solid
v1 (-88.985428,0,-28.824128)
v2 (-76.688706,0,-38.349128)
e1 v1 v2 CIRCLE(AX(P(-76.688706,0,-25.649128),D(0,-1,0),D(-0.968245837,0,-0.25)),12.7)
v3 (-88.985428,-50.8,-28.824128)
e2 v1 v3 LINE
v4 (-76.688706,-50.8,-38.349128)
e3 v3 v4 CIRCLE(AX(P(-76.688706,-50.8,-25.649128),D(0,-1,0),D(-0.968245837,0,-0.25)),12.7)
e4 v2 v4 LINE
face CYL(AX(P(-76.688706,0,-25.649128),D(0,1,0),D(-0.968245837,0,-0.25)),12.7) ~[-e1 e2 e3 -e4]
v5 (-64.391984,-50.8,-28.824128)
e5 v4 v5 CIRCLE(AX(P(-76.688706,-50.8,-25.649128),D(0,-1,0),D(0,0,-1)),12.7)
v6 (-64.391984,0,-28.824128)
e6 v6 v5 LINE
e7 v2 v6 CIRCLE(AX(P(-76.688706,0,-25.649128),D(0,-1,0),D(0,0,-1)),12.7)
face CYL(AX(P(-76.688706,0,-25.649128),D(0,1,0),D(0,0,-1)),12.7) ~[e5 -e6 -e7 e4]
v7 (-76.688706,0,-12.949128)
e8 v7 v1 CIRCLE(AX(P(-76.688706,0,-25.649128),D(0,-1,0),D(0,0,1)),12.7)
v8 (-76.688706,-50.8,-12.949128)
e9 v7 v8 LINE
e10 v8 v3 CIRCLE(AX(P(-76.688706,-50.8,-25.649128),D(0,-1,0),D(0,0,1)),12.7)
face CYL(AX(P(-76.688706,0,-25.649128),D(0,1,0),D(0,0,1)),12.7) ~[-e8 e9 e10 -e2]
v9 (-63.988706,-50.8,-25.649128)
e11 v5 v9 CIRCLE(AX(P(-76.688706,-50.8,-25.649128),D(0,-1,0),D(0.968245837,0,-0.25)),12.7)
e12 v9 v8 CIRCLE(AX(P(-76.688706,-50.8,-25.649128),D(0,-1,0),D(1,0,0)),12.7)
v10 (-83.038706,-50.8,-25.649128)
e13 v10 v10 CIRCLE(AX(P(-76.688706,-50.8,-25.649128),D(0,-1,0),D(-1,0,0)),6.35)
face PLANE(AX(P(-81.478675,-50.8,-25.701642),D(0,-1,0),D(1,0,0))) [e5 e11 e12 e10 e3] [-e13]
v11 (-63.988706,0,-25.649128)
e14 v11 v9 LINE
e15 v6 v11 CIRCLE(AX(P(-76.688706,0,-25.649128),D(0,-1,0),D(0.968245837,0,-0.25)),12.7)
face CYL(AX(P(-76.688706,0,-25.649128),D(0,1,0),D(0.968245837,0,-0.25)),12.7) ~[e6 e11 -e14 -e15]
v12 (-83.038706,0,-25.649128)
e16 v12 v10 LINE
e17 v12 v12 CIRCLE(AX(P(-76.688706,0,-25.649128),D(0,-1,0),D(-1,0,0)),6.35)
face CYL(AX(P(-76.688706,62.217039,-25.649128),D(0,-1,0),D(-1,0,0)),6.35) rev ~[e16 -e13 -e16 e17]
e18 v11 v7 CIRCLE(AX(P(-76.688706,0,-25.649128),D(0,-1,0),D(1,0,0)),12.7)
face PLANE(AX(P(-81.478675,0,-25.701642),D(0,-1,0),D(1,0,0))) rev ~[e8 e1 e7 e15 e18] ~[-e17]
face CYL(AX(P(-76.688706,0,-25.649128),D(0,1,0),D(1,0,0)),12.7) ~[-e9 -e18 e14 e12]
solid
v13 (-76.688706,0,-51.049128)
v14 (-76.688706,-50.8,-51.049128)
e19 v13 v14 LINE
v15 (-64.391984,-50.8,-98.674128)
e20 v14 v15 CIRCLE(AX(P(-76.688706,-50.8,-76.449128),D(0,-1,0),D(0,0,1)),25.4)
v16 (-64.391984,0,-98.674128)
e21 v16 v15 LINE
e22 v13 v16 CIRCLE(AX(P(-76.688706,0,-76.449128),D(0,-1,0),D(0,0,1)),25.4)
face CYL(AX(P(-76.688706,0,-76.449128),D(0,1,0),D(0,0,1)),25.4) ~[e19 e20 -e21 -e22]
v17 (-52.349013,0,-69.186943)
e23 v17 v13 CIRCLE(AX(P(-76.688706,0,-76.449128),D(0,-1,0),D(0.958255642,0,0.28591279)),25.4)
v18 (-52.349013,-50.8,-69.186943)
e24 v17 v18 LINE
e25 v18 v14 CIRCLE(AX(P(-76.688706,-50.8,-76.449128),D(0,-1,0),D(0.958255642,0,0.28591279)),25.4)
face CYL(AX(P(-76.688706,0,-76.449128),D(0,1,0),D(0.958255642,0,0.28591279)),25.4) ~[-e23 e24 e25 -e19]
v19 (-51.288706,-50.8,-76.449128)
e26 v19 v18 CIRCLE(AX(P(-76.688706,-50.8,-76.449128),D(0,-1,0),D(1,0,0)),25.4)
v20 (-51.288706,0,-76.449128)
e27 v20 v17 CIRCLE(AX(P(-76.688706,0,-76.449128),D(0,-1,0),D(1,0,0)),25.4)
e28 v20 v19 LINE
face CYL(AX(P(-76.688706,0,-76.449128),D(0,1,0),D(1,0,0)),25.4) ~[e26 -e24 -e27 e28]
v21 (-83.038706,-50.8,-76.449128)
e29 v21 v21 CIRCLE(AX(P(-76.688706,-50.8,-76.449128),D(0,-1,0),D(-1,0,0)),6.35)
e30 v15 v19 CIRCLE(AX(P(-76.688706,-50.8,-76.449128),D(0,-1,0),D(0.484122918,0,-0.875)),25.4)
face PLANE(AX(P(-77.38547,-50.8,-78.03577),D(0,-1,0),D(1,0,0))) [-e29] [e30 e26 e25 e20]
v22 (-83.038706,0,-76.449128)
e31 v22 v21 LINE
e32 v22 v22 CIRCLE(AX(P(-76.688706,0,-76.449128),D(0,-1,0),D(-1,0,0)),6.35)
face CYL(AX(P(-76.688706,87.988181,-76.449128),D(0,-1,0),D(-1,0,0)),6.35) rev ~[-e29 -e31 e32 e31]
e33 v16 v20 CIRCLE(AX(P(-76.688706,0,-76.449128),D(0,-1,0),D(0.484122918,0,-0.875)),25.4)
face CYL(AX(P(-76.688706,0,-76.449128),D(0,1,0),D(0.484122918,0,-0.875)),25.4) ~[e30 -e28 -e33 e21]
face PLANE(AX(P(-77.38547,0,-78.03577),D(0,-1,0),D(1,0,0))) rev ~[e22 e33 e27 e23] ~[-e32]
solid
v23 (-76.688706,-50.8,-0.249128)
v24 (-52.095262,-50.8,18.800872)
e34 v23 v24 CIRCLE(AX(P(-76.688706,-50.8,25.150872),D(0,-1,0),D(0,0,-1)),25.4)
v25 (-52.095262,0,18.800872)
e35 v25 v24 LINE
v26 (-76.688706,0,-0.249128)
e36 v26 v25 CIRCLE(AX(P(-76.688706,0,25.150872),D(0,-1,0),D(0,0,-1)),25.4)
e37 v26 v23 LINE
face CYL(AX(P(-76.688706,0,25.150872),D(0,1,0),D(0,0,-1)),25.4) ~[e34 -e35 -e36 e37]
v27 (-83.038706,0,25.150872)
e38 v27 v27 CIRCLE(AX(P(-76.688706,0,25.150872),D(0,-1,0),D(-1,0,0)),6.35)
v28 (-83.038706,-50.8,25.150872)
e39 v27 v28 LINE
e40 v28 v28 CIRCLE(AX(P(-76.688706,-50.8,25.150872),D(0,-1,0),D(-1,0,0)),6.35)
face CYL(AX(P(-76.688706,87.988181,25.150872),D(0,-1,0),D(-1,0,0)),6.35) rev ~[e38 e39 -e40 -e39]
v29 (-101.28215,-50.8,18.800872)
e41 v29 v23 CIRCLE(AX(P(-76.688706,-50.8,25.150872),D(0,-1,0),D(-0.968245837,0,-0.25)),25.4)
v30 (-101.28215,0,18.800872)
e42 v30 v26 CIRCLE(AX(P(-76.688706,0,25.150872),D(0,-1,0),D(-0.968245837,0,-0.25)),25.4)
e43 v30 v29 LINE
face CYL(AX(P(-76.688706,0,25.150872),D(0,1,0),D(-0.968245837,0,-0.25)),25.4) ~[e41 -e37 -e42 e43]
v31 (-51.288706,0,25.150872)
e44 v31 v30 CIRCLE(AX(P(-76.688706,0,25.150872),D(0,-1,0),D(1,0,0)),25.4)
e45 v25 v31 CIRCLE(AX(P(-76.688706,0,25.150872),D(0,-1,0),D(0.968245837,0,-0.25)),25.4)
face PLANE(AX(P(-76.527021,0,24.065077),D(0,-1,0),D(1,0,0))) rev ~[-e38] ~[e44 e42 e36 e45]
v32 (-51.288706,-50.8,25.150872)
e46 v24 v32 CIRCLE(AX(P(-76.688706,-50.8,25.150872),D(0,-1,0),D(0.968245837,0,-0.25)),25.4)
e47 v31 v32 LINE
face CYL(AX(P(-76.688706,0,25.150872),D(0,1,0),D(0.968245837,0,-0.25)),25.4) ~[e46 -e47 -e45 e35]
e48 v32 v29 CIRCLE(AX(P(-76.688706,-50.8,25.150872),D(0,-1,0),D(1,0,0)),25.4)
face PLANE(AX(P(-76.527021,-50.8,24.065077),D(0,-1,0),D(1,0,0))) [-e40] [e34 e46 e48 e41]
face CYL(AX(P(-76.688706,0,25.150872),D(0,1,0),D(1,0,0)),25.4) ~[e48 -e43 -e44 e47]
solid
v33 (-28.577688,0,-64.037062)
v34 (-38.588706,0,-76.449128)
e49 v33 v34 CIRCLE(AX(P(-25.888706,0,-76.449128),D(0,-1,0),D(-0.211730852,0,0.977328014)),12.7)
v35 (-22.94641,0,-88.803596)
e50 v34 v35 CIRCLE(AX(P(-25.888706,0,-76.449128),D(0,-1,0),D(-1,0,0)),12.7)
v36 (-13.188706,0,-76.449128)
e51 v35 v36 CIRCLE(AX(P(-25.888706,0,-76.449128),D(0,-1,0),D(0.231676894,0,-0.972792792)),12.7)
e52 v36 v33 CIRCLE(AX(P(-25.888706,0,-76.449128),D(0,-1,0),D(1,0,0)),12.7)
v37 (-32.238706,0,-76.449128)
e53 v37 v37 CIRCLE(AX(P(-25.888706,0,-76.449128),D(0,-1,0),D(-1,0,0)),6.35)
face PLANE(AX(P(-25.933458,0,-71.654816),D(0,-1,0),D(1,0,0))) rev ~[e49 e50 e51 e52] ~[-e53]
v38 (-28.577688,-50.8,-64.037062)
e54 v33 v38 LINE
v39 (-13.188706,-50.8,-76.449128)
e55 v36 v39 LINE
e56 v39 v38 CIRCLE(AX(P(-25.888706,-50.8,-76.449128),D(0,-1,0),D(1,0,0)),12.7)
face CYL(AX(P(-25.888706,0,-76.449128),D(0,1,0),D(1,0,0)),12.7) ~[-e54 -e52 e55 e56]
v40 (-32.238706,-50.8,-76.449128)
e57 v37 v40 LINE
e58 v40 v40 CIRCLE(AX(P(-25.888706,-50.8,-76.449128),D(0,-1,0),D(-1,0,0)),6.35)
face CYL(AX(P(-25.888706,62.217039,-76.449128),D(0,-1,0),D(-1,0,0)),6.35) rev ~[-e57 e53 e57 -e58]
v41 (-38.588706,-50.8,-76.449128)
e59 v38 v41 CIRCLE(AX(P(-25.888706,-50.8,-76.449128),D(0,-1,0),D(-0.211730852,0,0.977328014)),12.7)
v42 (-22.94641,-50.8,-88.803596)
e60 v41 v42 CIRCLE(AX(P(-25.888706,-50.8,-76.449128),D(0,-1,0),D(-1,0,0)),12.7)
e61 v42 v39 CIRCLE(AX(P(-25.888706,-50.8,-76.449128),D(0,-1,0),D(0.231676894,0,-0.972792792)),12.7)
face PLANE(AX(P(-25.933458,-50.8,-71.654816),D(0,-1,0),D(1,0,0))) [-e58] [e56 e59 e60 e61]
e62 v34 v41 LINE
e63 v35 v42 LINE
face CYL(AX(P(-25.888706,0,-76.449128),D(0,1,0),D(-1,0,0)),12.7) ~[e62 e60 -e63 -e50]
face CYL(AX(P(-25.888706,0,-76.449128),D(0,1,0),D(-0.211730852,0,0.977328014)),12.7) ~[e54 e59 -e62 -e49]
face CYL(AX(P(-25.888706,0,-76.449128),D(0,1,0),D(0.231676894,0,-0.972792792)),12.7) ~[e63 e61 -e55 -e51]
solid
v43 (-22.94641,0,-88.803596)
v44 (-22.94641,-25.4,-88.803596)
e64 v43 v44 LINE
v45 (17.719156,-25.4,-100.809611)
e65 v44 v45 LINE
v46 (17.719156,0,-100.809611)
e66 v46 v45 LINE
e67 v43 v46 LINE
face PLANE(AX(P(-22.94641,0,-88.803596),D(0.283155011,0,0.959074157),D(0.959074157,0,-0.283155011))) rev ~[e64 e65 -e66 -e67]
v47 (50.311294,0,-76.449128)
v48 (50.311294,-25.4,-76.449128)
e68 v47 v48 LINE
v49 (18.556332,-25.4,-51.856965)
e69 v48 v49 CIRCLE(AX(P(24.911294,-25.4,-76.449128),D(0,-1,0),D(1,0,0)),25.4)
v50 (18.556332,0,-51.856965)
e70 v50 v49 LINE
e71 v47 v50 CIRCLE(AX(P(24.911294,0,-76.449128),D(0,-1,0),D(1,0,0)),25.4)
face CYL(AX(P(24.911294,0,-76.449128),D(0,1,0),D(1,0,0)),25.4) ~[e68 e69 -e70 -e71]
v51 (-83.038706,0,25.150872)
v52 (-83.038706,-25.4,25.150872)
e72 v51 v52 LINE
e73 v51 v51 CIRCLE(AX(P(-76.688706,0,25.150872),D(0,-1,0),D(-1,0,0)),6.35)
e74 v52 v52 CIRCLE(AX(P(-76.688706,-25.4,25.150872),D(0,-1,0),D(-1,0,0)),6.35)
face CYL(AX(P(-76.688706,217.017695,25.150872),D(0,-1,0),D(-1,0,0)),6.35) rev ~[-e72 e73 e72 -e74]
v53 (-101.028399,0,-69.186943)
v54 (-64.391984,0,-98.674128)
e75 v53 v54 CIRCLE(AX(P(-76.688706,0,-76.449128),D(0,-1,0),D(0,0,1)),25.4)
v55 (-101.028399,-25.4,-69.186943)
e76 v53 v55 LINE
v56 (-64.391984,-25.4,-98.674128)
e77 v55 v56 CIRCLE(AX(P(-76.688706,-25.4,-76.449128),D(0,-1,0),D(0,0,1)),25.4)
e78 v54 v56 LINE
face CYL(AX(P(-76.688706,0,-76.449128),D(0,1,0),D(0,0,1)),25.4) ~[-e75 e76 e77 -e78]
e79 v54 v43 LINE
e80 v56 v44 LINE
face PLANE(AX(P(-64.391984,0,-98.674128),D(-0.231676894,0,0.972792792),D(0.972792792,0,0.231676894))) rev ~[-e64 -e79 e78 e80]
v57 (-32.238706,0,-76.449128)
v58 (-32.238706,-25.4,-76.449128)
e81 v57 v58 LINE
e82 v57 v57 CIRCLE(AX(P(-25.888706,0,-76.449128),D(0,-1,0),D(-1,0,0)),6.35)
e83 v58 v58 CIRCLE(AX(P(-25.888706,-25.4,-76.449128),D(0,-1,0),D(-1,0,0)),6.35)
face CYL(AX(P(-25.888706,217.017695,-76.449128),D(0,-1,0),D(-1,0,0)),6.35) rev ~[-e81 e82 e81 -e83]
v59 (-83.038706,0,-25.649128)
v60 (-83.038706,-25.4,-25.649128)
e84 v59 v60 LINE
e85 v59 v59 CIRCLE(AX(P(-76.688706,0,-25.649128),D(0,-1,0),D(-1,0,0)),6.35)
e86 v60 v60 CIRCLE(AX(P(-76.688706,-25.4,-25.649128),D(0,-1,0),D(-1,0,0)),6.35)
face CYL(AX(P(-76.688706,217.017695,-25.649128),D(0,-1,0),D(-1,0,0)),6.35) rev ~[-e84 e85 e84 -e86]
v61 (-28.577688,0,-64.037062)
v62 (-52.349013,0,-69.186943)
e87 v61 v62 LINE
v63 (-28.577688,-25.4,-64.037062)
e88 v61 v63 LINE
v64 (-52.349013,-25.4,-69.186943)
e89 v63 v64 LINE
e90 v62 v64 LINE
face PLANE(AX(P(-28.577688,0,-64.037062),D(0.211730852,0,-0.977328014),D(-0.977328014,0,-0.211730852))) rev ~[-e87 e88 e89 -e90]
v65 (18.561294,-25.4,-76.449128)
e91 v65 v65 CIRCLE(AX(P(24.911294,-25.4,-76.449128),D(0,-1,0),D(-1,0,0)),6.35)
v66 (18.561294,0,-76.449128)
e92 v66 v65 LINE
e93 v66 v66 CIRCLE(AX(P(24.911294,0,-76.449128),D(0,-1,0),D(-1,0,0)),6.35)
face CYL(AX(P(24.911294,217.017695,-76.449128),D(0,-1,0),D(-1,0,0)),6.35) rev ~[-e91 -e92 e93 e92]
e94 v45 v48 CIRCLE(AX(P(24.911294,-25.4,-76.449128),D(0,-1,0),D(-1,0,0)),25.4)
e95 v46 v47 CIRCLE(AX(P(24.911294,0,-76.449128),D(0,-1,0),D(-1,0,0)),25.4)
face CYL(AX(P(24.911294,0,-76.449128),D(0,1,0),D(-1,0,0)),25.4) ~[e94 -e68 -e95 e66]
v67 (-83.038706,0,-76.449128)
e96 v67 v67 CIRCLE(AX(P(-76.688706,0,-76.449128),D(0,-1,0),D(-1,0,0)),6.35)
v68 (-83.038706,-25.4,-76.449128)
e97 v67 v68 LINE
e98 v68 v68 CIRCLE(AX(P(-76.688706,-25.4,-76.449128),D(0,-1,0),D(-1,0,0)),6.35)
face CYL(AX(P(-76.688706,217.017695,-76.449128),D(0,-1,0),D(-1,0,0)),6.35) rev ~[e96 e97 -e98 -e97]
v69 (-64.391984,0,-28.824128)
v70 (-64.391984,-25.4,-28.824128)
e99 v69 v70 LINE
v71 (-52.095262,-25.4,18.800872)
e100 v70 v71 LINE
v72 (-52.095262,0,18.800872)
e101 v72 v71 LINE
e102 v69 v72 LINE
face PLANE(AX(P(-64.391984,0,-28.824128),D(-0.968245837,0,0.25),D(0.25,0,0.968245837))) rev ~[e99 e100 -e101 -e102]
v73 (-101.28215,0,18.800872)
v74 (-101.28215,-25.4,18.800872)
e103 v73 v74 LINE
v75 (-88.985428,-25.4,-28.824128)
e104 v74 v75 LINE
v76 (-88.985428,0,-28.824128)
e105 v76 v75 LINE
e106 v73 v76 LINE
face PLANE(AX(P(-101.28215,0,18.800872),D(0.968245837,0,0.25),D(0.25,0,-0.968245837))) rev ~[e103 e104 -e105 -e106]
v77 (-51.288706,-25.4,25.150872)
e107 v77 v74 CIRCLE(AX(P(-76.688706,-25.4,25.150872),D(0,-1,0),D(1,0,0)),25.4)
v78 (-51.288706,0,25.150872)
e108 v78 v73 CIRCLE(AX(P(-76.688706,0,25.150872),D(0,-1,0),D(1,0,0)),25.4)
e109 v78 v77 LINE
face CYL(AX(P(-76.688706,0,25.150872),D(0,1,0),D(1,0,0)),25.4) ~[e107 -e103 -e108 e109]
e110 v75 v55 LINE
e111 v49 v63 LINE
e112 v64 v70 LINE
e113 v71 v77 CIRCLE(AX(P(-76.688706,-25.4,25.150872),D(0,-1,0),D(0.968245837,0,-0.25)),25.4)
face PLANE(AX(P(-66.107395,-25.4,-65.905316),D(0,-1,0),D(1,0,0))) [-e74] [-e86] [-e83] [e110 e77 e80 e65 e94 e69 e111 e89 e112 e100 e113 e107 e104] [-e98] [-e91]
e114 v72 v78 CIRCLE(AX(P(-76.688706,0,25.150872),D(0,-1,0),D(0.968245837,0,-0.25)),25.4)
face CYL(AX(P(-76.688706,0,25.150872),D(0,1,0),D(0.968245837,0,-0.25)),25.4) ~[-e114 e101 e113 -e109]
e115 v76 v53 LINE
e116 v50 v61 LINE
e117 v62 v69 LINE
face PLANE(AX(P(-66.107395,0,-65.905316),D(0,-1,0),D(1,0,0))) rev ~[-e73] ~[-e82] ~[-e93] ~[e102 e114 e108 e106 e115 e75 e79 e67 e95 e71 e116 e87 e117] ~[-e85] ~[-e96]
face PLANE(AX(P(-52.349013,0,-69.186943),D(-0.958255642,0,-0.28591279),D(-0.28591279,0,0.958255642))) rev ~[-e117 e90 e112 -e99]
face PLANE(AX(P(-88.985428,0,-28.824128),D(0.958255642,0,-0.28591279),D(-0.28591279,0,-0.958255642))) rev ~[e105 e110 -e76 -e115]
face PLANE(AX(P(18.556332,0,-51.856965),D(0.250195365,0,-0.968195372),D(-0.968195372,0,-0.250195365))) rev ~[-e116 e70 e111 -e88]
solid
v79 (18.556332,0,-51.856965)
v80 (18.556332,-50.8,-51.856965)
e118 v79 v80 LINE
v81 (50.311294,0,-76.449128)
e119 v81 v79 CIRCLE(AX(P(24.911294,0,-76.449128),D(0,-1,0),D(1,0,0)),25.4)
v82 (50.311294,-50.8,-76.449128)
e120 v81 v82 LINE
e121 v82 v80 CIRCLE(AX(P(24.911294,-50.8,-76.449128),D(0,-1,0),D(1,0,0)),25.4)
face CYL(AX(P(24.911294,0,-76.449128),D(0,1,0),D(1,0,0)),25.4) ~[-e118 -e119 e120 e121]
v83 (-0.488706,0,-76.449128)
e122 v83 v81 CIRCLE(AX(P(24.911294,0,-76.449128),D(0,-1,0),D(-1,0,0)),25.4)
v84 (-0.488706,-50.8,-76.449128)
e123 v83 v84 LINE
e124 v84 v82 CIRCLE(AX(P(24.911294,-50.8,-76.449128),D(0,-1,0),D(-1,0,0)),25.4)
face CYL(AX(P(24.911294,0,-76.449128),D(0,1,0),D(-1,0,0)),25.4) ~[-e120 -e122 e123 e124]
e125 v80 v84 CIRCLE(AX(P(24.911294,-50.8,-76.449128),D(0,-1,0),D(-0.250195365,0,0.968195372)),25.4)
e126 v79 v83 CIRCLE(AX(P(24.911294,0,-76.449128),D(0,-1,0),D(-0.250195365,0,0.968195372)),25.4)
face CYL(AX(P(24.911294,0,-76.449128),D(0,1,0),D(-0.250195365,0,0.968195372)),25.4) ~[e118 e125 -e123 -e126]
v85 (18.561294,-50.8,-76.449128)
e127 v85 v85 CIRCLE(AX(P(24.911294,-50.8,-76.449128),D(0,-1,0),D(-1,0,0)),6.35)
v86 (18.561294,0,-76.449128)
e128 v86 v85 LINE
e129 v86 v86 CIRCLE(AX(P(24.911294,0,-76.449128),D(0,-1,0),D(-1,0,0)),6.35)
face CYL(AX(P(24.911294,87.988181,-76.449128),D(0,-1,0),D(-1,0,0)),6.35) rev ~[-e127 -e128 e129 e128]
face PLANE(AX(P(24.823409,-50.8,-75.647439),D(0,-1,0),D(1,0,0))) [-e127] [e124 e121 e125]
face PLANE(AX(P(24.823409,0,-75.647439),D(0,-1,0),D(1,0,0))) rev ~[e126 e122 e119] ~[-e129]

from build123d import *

# Parameters (mm, degrees)
F1_DEPTH = 50.8
F2_DEPTH = 25.4
F3_D     = 12.7
F3_2_D   = 12.7
F3_3_D   = 12.7
F3_4_D   = 12.7
F3_5_D   = 12.7
F3_6_D   = 12.7


with BuildPart() as f1:
    # F0 (on Front) → F1 (new body)
    with BuildSketch(Plane.XZ):
        with BuildLine():
            ThreePointArc((-76.688706116, -0.2491279063), (-61.1344462494, 5.0704089517), (-52.0952618676, 18.8008720937))
            ThreePointArc((-52.0952618676, 18.8008720937), (-51.4911518308, 21.9503630647), (-51.288706116, 25.1508720937))
            ThreePointArc((-51.288706116, 25.1508720937), (-79.8892151451, 50.3484263789), (-101.2821503645, 18.8008720937))
            ThreePointArc((-101.2821503645, 18.8008720937), (-92.2429659827, 5.0704089517), (-76.688706116, -0.2491279063))
        make_face()
    extrude(amount=F1_DEPTH)

    # F3 (through all)
    with Locations(Plane(origin=(0, 0, 0), x_dir=(1, 0, 0), z_dir=(0, 1, 0))):
        with Locations((-76.688706116, -25.1508720937), (-76.688706116, 25.6491279063), (-76.688706116, 76.4491279063), (-25.888706116, 76.4491279063), (24.911293884, 76.4491279063)):
            Hole(F3_D / 2)


with BuildPart() as f1b:
    # F0 (on Front) → F1, piece 2 (new body)
    with BuildSketch(Plane.XZ):
        with BuildLine():
            ThreePointArc((50.311293884, -76.4491279063), (40.463527775, -56.3670956137), (18.5563316005, -51.856965448))
            ThreePointArc((18.5563316005, -51.856965448), (4.8292615914, -60.8968940153), (-0.488706116, -76.4491279063))
            ThreePointArc((-0.488706116, -76.4491279063), (4.5662661321, -91.6557003595), (17.719155756, -100.8096112584))
            ThreePointArc((17.719155756, -100.8096112584), (40.1178663372, -96.7941556582), (50.311293884, -76.4491279063))
        make_face()
    extrude(amount=F1_DEPTH)

    # F3#2 (through all)
    with Locations(Plane(origin=(0, 0, 0), x_dir=(1, 0, 0), z_dir=(0, 1, 0))):
        with Locations((-76.688706116, -25.1508720937), (-76.688706116, 25.6491279063), (-76.688706116, 76.4491279063), (-25.888706116, 76.4491279063), (24.911293884, 76.4491279063)):
            Hole(F3_2_D / 2)


with BuildPart() as f1c:
    # F0 (on Front) → F1, piece 3 (new body)
    with BuildSketch(Plane.XZ):
        with BuildLine():
            ThreePointArc((-88.9854282402, -28.8241279063), (-84.4658360494, -35.6893594773), (-76.688706116, -38.3491279063))
            Line((-76.688706116, -38.3491279063), (-76.688706116, -25.6491279063))
            Line((-76.688706116, -25.6491279063), (-76.688706116, -12.9491279063))
            ThreePointArc((-76.688706116, -12.9491279063), (-86.7289376871, -17.8719979729), (-88.9854282402, -28.8241279063))
        make_face()
        with BuildLine():
            Line((-76.688706116, -25.6491279063), (-76.688706116, -38.3491279063))
            ThreePointArc((-76.688706116, -38.3491279063), (-68.9115761827, -35.6893594773), (-64.3919839918, -28.8241279063))
            ThreePointArc((-64.3919839918, -28.8241279063), (-64.0899289734, -27.2493824208), (-63.988706116, -25.6491279063))
            ThreePointArc((-63.988706116, -25.6491279063), (-67.708449995, -16.6688717852), (-76.688706116, -12.9491279063))
            Line((-76.688706116, -12.9491279063), (-76.688706116, -25.6491279063))
        make_face()
    extrude(amount=F1_DEPTH)

    # F3#3 (through all)
    with Locations(Plane(origin=(0, 0, 0), x_dir=(1, 0, 0), z_dir=(0, 1, 0))):
        with Locations((-76.688706116, -25.1508720937), (-76.688706116, 25.6491279063), (-76.688706116, 76.4491279063), (-25.888706116, 76.4491279063), (24.911293884, 76.4491279063)):
            Hole(F3_3_D / 2)


with BuildPart() as f1d:
    # F0 (on Front) → F1, piece 4 (new body)
    with BuildSketch(Plane.XZ):
        with BuildLine():
            Line((-51.288706116, -76.4491279063), (-76.688706116, -76.4491279063))
            Line((-76.688706116, -76.4491279063), (-76.688706116, -51.0491279063))
            ThreePointArc((-76.688706116, -51.0491279063), (-91.8660000806, -56.0822492079), (-101.0283994346, -69.1869430312))
            ThreePointArc((-101.0283994346, -69.1869430312), (-92.6145281281, -96.2361992722), (-64.3919839918, -98.6741279063))
            ThreePointArc((-64.3919839918, -98.6741279063), (-54.8083868547, -89.3491910465), (-51.288706116, -76.4491279063))
        make_face()
        with BuildLine():
            Line((-76.688706116, -51.0491279063), (-76.688706116, -76.4491279063))
            Line((-76.688706116, -76.4491279063), (-51.288706116, -76.4491279063))
            ThreePointArc((-51.288706116, -76.4491279063), (-51.5551805944, -72.7795373495), (-52.3490127975, -69.1869430312))
            ThreePointArc((-52.3490127975, -69.1869430312), (-61.5114121515, -56.0822492079), (-76.688706116, -51.0491279063))
        make_face()
    extrude(amount=F1_DEPTH)

    # F3#4 (through all)
    with Locations(Plane(origin=(0, 0, 0), x_dir=(1, 0, 0), z_dir=(0, 1, 0))):
        with Locations((-76.688706116, -25.1508720937), (-76.688706116, 25.6491279063), (-76.688706116, 76.4491279063), (-25.888706116, 76.4491279063), (24.911293884, 76.4491279063)):
            Hole(F3_4_D / 2)


with BuildPart() as f1e:
    # F0 (on Front) → F1, piece 5 (new body)
    with BuildSketch(Plane.XZ):
        with BuildLine():
            ThreePointArc((-28.5776879381, -64.037062133), (-35.7740505496, -68.4760503681), (-38.588706116, -76.4491279063))
            Line((-38.588706116, -76.4491279063), (-25.888706116, -76.4491279063))
            Line((-25.888706116, -76.4491279063), (-13.188706116, -76.4491279063))
            ThreePointArc((-13.188706116, -76.4491279063), (-17.9156285779, -66.5637834727), (-28.5776879381, -64.037062133))
        make_face()
        with BuildLine():
            Line((-25.888706116, -76.4491279063), (-38.588706116, -76.4491279063))
            ThreePointArc((-38.588706116, -76.4491279063), (-33.7602635805, -86.4155005204), (-22.9464095674, -88.8035963699))
            ThreePointArc((-22.9464095674, -88.8035963699), (-15.9223335019, -84.3206853707), (-13.188706116, -76.4491279063))
            Line((-13.188706116, -76.4491279063), (-25.888706116, -76.4491279063))
        make_face()
    extrude(amount=F1_DEPTH)

    # F3#5 (through all)
    with Locations(Plane(origin=(0, 0, 0), x_dir=(1, 0, 0), z_dir=(0, 1, 0))):
        with Locations((-76.688706116, -25.1508720937), (-76.688706116, 25.6491279063), (-76.688706116, 76.4491279063), (-25.888706116, 76.4491279063), (24.911293884, 76.4491279063)):
            Hole(F3_5_D / 2)


with BuildPart() as f2:
    # F0 (on Front) → F2 (new body)
    with BuildSketch(Plane.XZ):
        with BuildLine():
            Line((-76.688706116, -51.0491279063), (-76.688706116, -76.4491279063))
            Line((-76.688706116, -76.4491279063), (-51.288706116, -76.4491279063))
            ThreePointArc((-51.288706116, -76.4491279063), (-51.5551805944, -72.7795373495), (-52.3490127975, -69.1869430312))
            ThreePointArc((-52.3490127975, -69.1869430312), (-61.5114121515, -56.0822492079), (-76.688706116, -51.0491279063))
        make_face()
        with BuildLine():
            Line((-51.288706116, -76.4491279063), (-76.688706116, -76.4491279063))
            Line((-76.688706116, -76.4491279063), (-76.688706116, -51.0491279063))
            ThreePointArc((-76.688706116, -51.0491279063), (-91.8660000806, -56.0822492079), (-101.0283994346, -69.1869430312))
            ThreePointArc((-101.0283994346, -69.1869430312), (-92.6145281281, -96.2361992722), (-64.3919839918, -98.6741279063))
            ThreePointArc((-64.3919839918, -98.6741279063), (-54.8083868547, -89.3491910465), (-51.288706116, -76.4491279063))
        make_face()
        with BuildLine():
            ThreePointArc((-52.3490127975, -69.1869430312), (-51.5551805944, -72.7795373495), (-51.288706116, -76.4491279063))
            Line((-51.288706116, -76.4491279063), (-38.588706116, -76.4491279063))
            ThreePointArc((-38.588706116, -76.4491279063), (-35.7740505496, -68.4760503681), (-28.5776879381, -64.037062133))
            Line((-28.5776879381, -64.037062133), (-52.3490127975, -69.1869430312))
        make_face()
        with BuildLine():
            Line((-38.588706116, -76.4491279063), (-51.288706116, -76.4491279063))
            ThreePointArc((-51.288706116, -76.4491279063), (-54.8083868547, -89.3491910465), (-64.3919839918, -98.6741279063))
            Line((-64.3919839918, -98.6741279063), (-22.9464095674, -88.8035963699))
            ThreePointArc((-22.9464095674, -88.8035963699), (-33.7602635805, -86.4155005204), (-38.588706116, -76.4491279063))
        make_face()
        with BuildLine():
            ThreePointArc((-101.0283994346, -69.1869430312), (-91.8660000806, -56.0822492079), (-76.688706116, -51.0491279063))
            Line((-76.688706116, -51.0491279063), (-76.688706116, -38.3491279063))
            ThreePointArc((-76.688706116, -38.3491279063), (-84.4658360494, -35.6893594773), (-88.9854282402, -28.8241279063))
            Line((-88.9854282402, -28.8241279063), (-101.0283994346, -69.1869430312))
        make_face()
        with BuildLine():
            Line((-76.688706116, -38.3491279063), (-76.688706116, -51.0491279063))
            ThreePointArc((-76.688706116, -51.0491279063), (-61.5114121515, -56.0822492079), (-52.3490127975, -69.1869430312))
            Line((-52.3490127975, -69.1869430312), (-64.3919839918, -28.8241279063))
            ThreePointArc((-64.3919839918, -28.8241279063), (-68.9115761827, -35.6893594773), (-76.688706116, -38.3491279063))
        make_face()
        with BuildLine():
            ThreePointArc((-28.5776879381, -64.037062133), (-35.7740505496, -68.4760503681), (-38.588706116, -76.4491279063))
            Line((-38.588706116, -76.4491279063), (-25.888706116, -76.4491279063))
            Line((-25.888706116, -76.4491279063), (-13.188706116, -76.4491279063))
            ThreePointArc((-13.188706116, -76.4491279063), (-17.9156285779, -66.5637834727), (-28.5776879381, -64.037062133))
        make_face()
        with BuildLine():
            Line((-25.888706116, -76.4491279063), (-38.588706116, -76.4491279063))
            ThreePointArc((-38.588706116, -76.4491279063), (-33.7602635805, -86.4155005204), (-22.9464095674, -88.8035963699))
            ThreePointArc((-22.9464095674, -88.8035963699), (-15.9223335019, -84.3206853707), (-13.188706116, -76.4491279063))
            Line((-13.188706116, -76.4491279063), (-25.888706116, -76.4491279063))
        make_face()
        with BuildLine():
            ThreePointArc((-88.9854282402, -28.8241279063), (-84.4658360494, -35.6893594773), (-76.688706116, -38.3491279063))
            Line((-76.688706116, -38.3491279063), (-76.688706116, -25.6491279063))
            Line((-76.688706116, -25.6491279063), (-76.688706116, -12.9491279063))
            ThreePointArc((-76.688706116, -12.9491279063), (-86.7289376871, -17.8719979729), (-88.9854282402, -28.8241279063))
        make_face()
        with BuildLine():
            Line((-76.688706116, -25.6491279063), (-76.688706116, -38.3491279063))
            ThreePointArc((-76.688706116, -38.3491279063), (-68.9115761827, -35.6893594773), (-64.3919839918, -28.8241279063))
            ThreePointArc((-64.3919839918, -28.8241279063), (-64.0899289734, -27.2493824208), (-63.988706116, -25.6491279063))
            ThreePointArc((-63.988706116, -25.6491279063), (-67.708449995, -16.6688717852), (-76.688706116, -12.9491279063))
            Line((-76.688706116, -12.9491279063), (-76.688706116, -25.6491279063))
        make_face()
        with BuildLine():
            Line((18.5563316005, -51.856965448), (-28.5776879381, -64.037062133))
            ThreePointArc((-28.5776879381, -64.037062133), (-17.9156285779, -66.5637834727), (-13.188706116, -76.4491279063))
            Line((-13.188706116, -76.4491279063), (-0.488706116, -76.4491279063))
            ThreePointArc((-0.488706116, -76.4491279063), (4.8292615914, -60.8968940153), (18.5563316005, -51.856965448))
        make_face()
        with BuildLine():
            ThreePointArc((-13.188706116, -76.4491279063), (-15.9223335019, -84.3206853707), (-22.9464095674, -88.8035963699))
            Line((-22.9464095674, -88.8035963699), (17.719155756, -100.8096112584))
            ThreePointArc((17.719155756, -100.8096112584), (4.5662661321, -91.6557003595), (-0.488706116, -76.4491279063))
            Line((-0.488706116, -76.4491279063), (-13.188706116, -76.4491279063))
        make_face()
        with BuildLine():
            ThreePointArc((-63.988706116, -25.6491279063), (-64.0899289734, -27.2493824208), (-64.3919839918, -28.8241279063))
            Line((-64.3919839918, -28.8241279063), (-52.0952618676, 18.8008720937))
            ThreePointArc((-52.0952618676, 18.8008720937), (-61.1344462494, 5.0704089517), (-76.688706116, -0.2491279063))
            Line((-76.688706116, -0.2491279063), (-76.688706116, -12.9491279063))
            ThreePointArc((-76.688706116, -12.9491279063), (-67.708449995, -16.6688717852), (-63.988706116, -25.6491279063))
        make_face()
        with BuildLine():
            Line((-101.2821503645, 18.8008720937), (-88.9854282402, -28.8241279063))
            ThreePointArc((-88.9854282402, -28.8241279063), (-86.7289376871, -17.8719979729), (-76.688706116, -12.9491279063))
            Line((-76.688706116, -12.9491279063), (-76.688706116, -0.2491279063))
            ThreePointArc((-76.688706116, -0.2491279063), (-92.2429659827, 5.0704089517), (-101.2821503645, 18.8008720937))
        make_face()
        with BuildLine():
            ThreePointArc((50.311293884, -76.4491279063), (40.463527775, -56.3670956137), (18.5563316005, -51.856965448))
            ThreePointArc((18.5563316005, -51.856965448), (4.8292615914, -60.8968940153), (-0.488706116, -76.4491279063))
            ThreePointArc((-0.488706116, -76.4491279063), (4.5662661321, -91.6557003595), (17.719155756, -100.8096112584))
            ThreePointArc((17.719155756, -100.8096112584), (40.1178663372, -96.7941556582), (50.311293884, -76.4491279063))
        make_face()
        with BuildLine():
            ThreePointArc((-76.688706116, -0.2491279063), (-61.1344462494, 5.0704089517), (-52.0952618676, 18.8008720937))
            ThreePointArc((-52.0952618676, 18.8008720937), (-51.4911518308, 21.9503630647), (-51.288706116, 25.1508720937))
            ThreePointArc((-51.288706116, 25.1508720937), (-79.8892151451, 50.3484263789), (-101.2821503645, 18.8008720937))
            ThreePointArc((-101.2821503645, 18.8008720937), (-92.2429659827, 5.0704089517), (-76.688706116, -0.2491279063))
        make_face()
    extrude(amount=F2_DEPTH)

    # F3#6 (through all)
    with Locations(Plane(origin=(0, 0, 0), x_dir=(1, 0, 0), z_dir=(0, 1, 0))):
        with Locations((-76.688706116, -25.1508720937), (-76.688706116, 25.6491279063), (-76.688706116, 76.4491279063), (-25.888706116, 76.4491279063), (24.911293884, 76.4491279063)):
            Hole(F3_6_D / 2)


solid = Compound([f1.part, f1b.part, f1c.part, f1d.part, f1e.part, f2.part])
